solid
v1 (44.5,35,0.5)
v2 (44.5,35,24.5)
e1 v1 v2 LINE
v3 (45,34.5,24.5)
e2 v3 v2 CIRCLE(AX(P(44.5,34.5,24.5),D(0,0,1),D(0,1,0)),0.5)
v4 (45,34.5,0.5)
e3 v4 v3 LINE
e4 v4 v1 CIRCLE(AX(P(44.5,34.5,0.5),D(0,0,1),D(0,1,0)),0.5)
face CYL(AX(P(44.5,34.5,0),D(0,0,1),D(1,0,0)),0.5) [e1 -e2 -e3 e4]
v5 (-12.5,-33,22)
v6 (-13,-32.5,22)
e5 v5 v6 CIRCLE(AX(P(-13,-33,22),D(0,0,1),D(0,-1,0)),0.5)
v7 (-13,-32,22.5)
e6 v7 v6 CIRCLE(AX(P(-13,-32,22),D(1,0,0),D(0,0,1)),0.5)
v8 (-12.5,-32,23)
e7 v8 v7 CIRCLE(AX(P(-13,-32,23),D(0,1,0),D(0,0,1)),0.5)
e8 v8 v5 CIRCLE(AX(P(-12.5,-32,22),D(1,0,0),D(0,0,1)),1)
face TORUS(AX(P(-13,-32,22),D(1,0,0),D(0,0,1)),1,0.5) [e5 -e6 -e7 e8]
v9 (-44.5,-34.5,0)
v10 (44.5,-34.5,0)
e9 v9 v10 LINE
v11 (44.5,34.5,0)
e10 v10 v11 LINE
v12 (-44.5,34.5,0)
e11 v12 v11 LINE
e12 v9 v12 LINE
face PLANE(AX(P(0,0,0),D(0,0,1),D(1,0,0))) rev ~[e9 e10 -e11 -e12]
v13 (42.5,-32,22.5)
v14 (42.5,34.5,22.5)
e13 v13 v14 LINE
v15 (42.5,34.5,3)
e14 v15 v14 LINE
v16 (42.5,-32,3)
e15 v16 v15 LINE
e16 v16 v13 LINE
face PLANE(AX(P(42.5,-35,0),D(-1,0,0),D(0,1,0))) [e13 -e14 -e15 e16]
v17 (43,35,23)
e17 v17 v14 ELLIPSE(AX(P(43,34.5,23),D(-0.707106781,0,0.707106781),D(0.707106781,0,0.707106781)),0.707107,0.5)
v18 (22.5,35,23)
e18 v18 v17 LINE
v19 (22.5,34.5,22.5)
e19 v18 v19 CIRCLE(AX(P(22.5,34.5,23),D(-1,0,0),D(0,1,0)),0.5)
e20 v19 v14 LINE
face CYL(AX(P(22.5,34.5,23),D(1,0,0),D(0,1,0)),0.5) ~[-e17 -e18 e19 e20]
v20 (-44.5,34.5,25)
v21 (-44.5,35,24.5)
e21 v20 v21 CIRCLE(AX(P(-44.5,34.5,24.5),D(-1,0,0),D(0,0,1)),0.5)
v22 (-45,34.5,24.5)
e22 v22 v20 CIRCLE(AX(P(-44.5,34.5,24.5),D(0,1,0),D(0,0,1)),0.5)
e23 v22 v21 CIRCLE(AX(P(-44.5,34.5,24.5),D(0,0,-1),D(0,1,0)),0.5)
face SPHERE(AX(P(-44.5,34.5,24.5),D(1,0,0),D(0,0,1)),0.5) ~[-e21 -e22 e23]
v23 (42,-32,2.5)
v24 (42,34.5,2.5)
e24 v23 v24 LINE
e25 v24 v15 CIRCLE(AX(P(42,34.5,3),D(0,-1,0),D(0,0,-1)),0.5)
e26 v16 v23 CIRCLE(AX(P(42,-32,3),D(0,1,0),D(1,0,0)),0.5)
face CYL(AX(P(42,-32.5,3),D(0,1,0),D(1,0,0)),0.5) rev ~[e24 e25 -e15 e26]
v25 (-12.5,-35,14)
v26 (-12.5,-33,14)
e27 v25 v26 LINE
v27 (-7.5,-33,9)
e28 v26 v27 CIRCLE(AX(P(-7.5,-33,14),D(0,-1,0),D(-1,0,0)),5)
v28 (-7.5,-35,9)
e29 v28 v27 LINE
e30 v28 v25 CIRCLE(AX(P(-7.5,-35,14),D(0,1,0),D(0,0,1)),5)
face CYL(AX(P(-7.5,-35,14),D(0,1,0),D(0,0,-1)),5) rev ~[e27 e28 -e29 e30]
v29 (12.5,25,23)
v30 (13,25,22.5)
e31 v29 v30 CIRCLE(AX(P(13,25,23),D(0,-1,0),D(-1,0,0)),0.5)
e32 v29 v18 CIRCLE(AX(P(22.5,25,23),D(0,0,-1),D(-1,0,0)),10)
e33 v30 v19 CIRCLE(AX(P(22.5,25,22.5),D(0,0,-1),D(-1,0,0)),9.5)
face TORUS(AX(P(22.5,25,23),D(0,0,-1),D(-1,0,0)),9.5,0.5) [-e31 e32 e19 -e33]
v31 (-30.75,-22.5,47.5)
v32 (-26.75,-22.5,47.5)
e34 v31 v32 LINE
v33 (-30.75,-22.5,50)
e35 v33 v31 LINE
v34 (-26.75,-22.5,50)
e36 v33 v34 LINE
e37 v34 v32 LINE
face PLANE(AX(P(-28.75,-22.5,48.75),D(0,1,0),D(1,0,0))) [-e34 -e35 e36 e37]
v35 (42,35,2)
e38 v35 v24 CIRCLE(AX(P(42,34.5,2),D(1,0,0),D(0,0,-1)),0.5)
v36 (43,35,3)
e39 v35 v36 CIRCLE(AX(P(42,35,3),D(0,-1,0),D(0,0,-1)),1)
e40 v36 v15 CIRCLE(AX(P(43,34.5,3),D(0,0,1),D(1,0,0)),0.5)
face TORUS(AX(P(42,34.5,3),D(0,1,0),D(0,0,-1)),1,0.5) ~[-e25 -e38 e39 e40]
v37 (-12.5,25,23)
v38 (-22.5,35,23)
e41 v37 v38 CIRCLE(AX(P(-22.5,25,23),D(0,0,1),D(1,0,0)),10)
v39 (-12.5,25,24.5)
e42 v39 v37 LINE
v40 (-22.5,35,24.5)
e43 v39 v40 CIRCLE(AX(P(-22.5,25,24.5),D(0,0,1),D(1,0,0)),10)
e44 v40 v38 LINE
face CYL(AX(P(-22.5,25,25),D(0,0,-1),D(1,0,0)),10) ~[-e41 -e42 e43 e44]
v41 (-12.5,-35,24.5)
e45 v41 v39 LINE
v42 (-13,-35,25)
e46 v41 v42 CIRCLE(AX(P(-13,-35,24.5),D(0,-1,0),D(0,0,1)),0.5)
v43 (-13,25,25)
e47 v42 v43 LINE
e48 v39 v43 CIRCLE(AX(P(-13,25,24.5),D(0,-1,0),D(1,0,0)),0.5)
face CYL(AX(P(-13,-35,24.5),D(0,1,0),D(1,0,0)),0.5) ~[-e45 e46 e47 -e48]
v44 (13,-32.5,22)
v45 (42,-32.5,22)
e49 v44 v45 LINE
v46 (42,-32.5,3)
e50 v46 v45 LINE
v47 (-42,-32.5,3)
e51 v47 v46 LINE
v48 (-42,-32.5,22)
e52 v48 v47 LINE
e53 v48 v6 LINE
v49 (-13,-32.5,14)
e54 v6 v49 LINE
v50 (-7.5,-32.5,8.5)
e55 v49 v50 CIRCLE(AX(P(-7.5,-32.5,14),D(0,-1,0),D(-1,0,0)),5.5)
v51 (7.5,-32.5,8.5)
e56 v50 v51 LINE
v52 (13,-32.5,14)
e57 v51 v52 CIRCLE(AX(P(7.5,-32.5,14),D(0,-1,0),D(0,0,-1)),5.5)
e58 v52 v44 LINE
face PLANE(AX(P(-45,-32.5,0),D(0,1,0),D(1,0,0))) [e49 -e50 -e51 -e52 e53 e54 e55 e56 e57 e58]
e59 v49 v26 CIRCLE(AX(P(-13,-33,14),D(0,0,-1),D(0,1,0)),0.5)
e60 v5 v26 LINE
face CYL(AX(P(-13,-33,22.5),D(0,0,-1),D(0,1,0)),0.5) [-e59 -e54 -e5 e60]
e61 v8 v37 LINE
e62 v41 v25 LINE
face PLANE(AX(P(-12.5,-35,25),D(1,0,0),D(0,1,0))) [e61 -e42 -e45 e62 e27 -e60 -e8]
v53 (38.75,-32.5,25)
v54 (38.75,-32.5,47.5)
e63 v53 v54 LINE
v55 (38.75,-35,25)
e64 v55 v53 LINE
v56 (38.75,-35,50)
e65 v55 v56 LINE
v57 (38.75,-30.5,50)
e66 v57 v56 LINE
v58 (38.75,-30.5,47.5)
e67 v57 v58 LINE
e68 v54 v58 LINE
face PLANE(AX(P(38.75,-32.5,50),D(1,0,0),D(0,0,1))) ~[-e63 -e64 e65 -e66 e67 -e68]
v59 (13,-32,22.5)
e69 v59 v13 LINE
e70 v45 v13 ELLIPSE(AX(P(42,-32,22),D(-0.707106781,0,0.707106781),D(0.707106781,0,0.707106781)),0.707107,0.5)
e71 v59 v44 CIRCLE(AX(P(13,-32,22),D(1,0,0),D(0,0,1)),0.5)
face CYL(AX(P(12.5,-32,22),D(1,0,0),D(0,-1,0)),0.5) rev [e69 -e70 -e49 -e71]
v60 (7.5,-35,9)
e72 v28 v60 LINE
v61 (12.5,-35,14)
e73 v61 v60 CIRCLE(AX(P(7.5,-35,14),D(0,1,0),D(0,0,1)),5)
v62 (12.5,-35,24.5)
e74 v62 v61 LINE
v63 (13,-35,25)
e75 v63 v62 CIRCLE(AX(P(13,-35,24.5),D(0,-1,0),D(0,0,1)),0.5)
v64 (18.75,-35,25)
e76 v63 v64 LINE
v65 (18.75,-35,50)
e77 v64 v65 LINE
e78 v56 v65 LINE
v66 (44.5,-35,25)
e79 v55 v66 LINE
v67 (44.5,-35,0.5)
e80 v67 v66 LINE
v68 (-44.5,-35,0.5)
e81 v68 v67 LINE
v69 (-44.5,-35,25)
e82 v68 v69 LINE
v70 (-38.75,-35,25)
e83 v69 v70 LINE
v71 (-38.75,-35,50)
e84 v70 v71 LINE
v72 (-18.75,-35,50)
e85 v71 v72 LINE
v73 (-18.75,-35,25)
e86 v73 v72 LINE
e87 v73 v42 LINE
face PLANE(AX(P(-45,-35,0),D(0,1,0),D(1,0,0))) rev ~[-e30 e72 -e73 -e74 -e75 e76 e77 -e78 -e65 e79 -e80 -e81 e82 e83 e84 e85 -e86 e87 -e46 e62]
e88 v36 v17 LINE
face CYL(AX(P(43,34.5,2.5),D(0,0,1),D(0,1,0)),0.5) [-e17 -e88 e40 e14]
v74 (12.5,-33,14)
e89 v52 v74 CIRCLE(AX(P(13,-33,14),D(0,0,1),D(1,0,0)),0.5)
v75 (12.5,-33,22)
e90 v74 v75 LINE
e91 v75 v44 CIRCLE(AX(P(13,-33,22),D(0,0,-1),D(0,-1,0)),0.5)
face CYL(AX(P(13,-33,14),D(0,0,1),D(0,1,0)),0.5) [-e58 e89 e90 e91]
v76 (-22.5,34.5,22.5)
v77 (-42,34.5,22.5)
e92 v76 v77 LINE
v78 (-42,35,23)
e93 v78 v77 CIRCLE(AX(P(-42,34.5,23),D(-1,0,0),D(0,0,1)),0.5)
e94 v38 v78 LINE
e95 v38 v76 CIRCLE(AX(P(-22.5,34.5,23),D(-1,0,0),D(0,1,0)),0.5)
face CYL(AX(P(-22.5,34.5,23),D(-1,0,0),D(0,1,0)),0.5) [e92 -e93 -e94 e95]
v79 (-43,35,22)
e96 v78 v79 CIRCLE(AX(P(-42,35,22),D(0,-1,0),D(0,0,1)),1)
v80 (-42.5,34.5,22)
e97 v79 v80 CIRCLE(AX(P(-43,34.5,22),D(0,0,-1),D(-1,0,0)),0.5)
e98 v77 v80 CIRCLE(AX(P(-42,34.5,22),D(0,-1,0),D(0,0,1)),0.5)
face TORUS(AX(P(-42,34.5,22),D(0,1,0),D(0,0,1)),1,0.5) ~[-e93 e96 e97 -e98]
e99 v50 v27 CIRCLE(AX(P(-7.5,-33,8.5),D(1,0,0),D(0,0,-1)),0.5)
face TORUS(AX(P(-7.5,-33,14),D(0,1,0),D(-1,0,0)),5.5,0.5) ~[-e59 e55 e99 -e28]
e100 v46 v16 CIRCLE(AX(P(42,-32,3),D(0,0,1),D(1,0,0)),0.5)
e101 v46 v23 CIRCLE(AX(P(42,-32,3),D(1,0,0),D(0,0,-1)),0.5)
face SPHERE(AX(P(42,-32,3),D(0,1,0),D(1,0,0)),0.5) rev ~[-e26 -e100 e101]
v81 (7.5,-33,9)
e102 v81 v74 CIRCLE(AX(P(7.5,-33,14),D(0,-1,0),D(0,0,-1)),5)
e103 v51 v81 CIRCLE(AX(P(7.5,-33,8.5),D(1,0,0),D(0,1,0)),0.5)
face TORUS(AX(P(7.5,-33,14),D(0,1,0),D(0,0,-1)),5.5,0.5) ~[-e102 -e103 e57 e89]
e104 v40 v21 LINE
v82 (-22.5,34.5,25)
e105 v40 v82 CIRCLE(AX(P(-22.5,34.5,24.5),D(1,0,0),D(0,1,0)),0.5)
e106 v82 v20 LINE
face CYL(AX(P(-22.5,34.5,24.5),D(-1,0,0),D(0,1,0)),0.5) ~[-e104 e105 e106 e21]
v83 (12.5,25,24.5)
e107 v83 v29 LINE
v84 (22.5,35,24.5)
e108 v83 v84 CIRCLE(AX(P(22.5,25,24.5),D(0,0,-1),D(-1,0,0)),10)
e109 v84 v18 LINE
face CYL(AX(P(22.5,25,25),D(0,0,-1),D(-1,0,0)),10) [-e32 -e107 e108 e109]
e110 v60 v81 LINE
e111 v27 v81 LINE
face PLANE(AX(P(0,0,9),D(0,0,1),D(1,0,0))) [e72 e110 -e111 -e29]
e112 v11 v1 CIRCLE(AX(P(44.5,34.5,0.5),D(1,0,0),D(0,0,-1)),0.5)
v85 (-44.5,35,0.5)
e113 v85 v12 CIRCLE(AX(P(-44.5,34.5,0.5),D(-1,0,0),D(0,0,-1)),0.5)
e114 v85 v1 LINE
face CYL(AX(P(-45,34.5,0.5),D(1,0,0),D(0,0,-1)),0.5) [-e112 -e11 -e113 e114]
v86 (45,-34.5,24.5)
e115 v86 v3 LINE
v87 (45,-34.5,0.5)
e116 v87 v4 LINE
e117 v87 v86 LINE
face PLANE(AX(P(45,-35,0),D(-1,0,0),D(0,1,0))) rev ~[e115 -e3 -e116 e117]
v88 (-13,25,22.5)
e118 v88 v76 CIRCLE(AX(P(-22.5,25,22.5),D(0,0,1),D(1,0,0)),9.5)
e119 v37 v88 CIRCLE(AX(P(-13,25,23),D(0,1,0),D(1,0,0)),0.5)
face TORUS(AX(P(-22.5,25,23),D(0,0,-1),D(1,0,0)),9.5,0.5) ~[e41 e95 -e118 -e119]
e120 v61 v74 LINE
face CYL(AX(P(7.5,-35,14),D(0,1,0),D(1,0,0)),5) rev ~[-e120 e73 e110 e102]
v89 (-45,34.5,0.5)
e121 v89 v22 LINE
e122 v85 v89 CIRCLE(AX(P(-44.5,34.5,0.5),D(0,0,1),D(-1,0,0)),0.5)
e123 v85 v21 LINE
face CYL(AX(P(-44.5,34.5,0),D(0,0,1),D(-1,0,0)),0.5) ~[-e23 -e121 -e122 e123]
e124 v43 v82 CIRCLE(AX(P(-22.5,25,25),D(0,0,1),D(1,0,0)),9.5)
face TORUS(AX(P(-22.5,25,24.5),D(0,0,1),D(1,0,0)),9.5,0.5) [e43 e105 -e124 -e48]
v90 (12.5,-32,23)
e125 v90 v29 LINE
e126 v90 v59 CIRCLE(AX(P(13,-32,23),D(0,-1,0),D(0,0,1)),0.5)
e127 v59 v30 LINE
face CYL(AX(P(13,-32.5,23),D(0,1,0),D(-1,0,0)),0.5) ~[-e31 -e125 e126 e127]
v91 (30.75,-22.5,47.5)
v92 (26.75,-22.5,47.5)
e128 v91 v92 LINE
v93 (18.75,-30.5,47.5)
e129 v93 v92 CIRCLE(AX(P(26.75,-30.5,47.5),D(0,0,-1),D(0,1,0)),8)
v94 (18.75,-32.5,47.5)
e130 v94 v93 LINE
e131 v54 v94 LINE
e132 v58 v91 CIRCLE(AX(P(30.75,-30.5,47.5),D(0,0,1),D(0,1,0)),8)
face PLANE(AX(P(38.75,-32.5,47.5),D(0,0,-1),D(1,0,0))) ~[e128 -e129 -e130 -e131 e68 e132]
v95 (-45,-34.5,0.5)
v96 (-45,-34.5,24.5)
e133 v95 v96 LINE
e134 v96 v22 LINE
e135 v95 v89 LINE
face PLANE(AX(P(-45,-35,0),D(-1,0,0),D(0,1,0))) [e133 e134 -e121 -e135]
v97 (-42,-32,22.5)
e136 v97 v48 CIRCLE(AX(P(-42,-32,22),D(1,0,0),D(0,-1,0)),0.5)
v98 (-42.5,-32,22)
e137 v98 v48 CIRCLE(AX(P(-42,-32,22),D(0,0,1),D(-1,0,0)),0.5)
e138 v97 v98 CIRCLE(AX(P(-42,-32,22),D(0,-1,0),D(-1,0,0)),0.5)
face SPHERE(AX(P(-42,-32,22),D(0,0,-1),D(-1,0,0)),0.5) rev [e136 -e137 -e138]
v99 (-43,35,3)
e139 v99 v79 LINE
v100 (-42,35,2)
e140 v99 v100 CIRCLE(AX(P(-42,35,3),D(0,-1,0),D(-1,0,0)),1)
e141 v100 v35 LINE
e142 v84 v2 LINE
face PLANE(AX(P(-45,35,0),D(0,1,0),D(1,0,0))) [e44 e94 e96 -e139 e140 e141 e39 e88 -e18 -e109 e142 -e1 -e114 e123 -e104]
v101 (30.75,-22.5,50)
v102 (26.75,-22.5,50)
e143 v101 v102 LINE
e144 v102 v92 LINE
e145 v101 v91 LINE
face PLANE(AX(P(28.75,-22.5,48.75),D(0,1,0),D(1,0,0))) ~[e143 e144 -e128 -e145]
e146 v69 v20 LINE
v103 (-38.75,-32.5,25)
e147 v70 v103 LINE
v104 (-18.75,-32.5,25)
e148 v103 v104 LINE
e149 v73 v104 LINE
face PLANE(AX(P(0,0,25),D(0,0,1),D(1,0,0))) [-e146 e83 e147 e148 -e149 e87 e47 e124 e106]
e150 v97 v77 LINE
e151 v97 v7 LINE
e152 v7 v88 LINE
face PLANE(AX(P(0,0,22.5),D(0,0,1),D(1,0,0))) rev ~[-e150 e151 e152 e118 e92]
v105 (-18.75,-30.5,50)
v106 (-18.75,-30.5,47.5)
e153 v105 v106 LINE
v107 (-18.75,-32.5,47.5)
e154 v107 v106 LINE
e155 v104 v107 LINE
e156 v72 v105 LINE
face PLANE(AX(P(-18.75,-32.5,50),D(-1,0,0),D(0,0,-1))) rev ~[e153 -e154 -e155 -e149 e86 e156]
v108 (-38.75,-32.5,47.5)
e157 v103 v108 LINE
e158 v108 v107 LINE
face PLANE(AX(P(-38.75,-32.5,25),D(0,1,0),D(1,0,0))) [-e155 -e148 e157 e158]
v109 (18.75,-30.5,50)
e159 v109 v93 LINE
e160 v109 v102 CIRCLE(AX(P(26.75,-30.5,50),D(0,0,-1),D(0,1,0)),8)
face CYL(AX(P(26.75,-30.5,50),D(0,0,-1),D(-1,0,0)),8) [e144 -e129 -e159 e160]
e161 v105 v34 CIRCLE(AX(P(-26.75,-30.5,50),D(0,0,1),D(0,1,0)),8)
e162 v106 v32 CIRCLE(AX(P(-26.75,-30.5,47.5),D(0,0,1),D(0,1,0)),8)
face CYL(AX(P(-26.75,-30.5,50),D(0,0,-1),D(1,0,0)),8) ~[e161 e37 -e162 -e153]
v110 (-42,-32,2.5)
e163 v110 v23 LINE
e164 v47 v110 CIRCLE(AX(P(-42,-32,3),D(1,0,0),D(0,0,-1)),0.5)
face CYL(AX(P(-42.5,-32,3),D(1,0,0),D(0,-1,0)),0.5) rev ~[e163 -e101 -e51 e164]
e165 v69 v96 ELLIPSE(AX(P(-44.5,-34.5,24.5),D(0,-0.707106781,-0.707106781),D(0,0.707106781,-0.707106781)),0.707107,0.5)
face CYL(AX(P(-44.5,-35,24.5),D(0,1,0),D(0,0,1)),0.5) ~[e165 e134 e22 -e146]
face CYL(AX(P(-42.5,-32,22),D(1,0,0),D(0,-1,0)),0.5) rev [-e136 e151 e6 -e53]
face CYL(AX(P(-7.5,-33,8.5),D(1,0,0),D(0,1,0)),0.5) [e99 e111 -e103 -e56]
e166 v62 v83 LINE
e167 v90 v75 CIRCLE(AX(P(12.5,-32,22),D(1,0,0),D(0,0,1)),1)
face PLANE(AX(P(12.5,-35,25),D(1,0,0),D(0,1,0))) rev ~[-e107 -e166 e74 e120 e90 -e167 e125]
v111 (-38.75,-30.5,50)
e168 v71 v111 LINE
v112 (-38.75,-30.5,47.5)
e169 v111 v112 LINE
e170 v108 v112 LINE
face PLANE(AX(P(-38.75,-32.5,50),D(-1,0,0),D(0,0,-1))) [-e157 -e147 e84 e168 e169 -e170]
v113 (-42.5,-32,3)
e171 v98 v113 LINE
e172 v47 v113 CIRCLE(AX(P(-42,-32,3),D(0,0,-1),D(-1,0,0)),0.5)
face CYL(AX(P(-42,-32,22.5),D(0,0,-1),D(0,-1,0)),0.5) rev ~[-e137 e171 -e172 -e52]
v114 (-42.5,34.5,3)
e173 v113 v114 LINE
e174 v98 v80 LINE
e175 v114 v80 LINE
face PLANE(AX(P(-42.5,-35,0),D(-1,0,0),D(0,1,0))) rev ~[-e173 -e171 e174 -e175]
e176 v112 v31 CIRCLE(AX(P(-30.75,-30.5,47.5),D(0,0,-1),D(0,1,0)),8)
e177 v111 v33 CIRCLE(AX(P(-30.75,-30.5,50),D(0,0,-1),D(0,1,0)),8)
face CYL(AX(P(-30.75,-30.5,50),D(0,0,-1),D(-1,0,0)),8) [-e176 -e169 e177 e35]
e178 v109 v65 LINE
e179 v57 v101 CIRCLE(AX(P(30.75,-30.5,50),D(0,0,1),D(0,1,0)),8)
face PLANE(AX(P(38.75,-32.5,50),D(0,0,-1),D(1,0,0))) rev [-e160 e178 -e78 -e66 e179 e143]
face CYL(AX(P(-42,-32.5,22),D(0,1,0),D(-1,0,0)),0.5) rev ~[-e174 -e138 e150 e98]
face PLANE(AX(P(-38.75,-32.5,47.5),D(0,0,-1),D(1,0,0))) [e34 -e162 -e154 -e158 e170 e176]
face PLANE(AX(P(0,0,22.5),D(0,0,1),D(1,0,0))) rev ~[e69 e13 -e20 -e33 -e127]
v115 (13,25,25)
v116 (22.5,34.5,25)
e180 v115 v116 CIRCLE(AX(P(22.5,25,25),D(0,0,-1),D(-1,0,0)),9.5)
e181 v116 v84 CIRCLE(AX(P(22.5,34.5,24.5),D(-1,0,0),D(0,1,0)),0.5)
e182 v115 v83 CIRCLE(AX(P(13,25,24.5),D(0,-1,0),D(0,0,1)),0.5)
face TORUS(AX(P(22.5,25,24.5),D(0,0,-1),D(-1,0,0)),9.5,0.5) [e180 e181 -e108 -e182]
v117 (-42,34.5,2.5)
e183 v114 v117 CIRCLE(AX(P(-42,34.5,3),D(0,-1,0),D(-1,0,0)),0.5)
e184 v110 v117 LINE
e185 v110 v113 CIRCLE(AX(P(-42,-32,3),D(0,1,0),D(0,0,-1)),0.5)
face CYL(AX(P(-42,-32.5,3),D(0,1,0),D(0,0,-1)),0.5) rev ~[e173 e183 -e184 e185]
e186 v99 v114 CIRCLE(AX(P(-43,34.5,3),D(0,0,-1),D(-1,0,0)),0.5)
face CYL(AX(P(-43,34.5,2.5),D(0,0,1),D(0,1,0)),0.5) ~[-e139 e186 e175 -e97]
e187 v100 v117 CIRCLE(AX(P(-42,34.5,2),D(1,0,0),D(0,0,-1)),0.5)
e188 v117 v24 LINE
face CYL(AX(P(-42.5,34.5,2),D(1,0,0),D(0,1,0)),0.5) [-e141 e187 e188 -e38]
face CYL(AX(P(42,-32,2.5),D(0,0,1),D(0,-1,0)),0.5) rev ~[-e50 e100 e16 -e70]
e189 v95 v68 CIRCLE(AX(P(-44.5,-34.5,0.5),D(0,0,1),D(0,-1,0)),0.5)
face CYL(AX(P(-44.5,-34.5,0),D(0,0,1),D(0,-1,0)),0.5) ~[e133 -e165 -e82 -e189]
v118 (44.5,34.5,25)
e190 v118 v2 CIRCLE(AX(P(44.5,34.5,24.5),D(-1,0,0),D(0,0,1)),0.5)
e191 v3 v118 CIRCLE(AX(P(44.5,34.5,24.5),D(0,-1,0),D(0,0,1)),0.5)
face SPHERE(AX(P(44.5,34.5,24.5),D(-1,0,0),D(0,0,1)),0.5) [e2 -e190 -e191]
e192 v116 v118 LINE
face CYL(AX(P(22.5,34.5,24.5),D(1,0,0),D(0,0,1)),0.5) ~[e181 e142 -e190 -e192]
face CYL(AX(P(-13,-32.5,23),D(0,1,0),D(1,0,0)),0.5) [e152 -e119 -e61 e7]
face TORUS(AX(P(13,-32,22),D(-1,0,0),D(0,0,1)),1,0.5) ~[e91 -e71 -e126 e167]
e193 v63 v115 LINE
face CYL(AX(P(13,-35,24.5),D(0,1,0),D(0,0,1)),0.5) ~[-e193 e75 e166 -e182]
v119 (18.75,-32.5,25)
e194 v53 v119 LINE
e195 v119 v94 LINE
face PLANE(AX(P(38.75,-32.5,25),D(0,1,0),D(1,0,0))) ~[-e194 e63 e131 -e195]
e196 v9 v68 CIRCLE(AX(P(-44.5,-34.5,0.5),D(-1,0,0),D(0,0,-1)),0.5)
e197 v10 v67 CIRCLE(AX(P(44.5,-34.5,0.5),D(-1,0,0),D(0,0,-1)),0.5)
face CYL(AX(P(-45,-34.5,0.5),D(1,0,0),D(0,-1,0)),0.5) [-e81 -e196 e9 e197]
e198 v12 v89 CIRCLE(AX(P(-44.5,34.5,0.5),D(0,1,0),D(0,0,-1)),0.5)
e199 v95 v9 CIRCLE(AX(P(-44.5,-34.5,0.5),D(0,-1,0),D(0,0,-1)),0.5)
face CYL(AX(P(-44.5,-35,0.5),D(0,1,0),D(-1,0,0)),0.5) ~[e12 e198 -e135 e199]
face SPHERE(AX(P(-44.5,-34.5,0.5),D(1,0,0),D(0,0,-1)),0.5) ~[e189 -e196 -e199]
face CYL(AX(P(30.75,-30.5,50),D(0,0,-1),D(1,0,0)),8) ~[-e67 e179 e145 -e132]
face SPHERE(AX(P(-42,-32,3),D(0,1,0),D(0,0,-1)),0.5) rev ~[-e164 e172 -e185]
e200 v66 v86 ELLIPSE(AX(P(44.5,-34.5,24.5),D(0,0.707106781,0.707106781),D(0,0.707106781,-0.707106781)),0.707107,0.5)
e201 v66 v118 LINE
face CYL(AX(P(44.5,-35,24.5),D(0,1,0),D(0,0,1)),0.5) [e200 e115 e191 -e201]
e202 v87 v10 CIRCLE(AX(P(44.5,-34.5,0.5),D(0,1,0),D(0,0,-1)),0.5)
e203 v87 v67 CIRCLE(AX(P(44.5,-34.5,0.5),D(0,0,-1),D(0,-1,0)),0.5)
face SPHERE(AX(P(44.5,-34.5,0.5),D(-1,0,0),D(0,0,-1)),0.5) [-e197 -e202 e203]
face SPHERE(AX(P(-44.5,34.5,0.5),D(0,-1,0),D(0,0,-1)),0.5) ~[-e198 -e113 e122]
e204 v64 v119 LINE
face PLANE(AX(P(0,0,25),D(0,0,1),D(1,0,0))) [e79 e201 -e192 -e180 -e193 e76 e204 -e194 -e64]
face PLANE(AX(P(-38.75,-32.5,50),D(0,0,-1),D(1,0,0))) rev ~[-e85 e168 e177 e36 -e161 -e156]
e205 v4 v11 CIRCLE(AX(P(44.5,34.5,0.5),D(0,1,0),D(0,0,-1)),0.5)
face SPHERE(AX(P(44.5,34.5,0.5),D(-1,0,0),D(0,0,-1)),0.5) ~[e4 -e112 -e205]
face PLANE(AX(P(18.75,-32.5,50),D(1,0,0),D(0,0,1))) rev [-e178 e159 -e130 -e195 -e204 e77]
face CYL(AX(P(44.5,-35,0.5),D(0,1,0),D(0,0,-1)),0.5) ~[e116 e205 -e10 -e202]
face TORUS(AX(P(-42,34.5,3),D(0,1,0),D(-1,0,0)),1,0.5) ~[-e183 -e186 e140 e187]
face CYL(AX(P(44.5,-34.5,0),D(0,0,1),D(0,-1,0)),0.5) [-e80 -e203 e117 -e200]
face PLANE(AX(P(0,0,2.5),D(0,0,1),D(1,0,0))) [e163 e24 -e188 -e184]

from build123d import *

# Parameters (mm, degrees)
SKETCH1_W            = 90
SKETCH1_H            = 70
BOSS_EXTRUDE1_DEPTH  = 25
SHELL1_T             = -2.5
SKETCH2_W            = 25
SKETCH2_H            = 70
CUT_EXTRUDE1_DEPTH   = 16
SKETCH3_W            = 20
SKETCH3_H            = 2.5
BOSS_EXTRUDE2_DEPTH  = 25
SKETCH4_W            = 20
SKETCH4_H            = 2.5
BOSS_EXTRUDE3_DEPTH  = 10
FILLET1_R            = 8
FILLET1_OF_MIRROR2_R = 8
FILLET3_R            = 10
FILLET4_R            = 5
FILLET5_R            = 0.5


with BuildPart() as part:
    # Sketch1 → Boss-Extrude1 (new body)
    with BuildSketch(Plane.XY):
        Rectangle(SKETCH1_W, SKETCH1_H)
    extrude(amount=BOSS_EXTRUDE1_DEPTH)

    # Shell1
    shell1_openings = [part.faces().sort_by_distance(p)[0] for p in [
        (0, 35, 12.5),
    ]]
    offset(amount=SHELL1_T, openings=shell1_openings, kind=Kind.INTERSECTION)

    # Sketch2 → Cut-Extrude1 (cut)
    with BuildSketch(Plane.XY.offset(25)):
        Rectangle(SKETCH2_W, SKETCH2_H)
    extrude(amount=-CUT_EXTRUDE1_DEPTH, mode=Mode.SUBTRACT)

    # Sketch3 → Boss-Extrude2 (add)
    with BuildSketch(Plane.XY.offset(25)):
        with Locations((-28.75, -33.75)):
            Rectangle(SKETCH3_W, SKETCH3_H)
    boss_extrude2 = extrude(amount=BOSS_EXTRUDE2_DEPTH)

    # Sketch4 → Boss-Extrude3 (add)
    with BuildSketch(Plane(origin=(0, -32.5, 0), x_dir=(1, 0, 0), z_dir=(0, 1, 0))):
        with Locations((-28.75, -48.75)):
            Rectangle(SKETCH4_W, SKETCH4_H)
    boss_extrude3 = extrude(amount=BOSS_EXTRUDE3_DEPTH)

    # Fillet1
    fillet1_edges = [part.edges().sort_by_distance(p)[0] for p in [
        (-18.75, -22.5, 48.75),
        (-38.75, -22.5, 48.75),
    ]]
    fillet(fillet1_edges, radius=FILLET1_R)

    # Mirror2: Boss-Extrude2, Boss-Extrude3 across plane
    add(boss_extrude2.mirror(Plane(origin=(0, 0, 0), x_dir=(0, 0, 1), z_dir=(1, 0, 0))))
    add(boss_extrude3.mirror(Plane(origin=(0, 0, 0), x_dir=(0, 0, 1), z_dir=(1, 0, 0))))

    # Fillet1 of Mirror2
    fillet1_of_mirror2_edges = [part.edges().sort_by_distance(p)[0] for p in [
        (18.75, -22.5, 48.75),
        (38.75, -22.5, 48.75),
    ]]
    fillet(fillet1_of_mirror2_edges, radius=FILLET1_OF_MIRROR2_R)

    # Fillet3
    fillet3_edges = [part.edges().sort_by_distance(p)[0] for p in [
        (-12.5, 35, 23.75),
        (12.5, 35, 23.75),
    ]]
    fillet(fillet3_edges, radius=FILLET3_R)

    # Fillet4
    fillet4_edges = [part.edges().sort_by_distance(p)[0] for p in [
        (-12.5, -33.75, 9),
        (12.5, -33.75, 9),
    ]]
    fillet(fillet4_edges, radius=FILLET4_R)

    # Fillet5
    fillet5_edges = [part.edges().sort_by_distance(p)[0] for p in [
        (-12.5, -3.75, 22.5),
        (-12.5, -5, 25),
        (-33.75, 35, 25),
        (-15.428932188, 32.071067812, 25),
        (-32.5, 35, 22.5),
        (-15.428932188, 32.071067812, 22.5),
        (15.428932188, 32.071067812, 25),
        (-45, 0, 25),
        (15.428932188, 32.071067812, 22.5),
        (0, -32.5, 9),
        (-12.5, -32.5, 18.25),
        (11.035533906, -32.5, 10.464466094),
        (-11.035533906, -32.5, 10.464466094),
        (42.5, 1.25, 2.5),
        (42.5, -32.5, 12.5),
        (0, 35, 2.5),
        (42.5, 35, 12.5),
        (-42.5, 1.25, 2.5),
        (-42.5, 35, 12.5),
        (0, -32.5, 2.5),
        (-42.5, -32.5, 12.5),
        (32.5, 35, 22.5),
        (-42.5, 1.25, 22.5),
        (-27.5, -32.5, 22.5),
        (27.5, -32.5, 22.5),
        (12.5, -3.75, 22.5),
        (12.5, -32.5, 18.25),
        (12.5, -5, 25),
        (45, 0, 25),
        (0, -35, 0),
        (-45, 0, 0),
        (0, 35, 0),
        (45, 0, 0),
        (45, -35, 12.5),
        (-45, -35, 12.5),
        (-45, 35, 12.5),
        (45, 35, 12.5),
        (33.75, 35, 25),
    ]]
    fillet(fillet5_edges, radius=FILLET5_R)


solid = part.part
